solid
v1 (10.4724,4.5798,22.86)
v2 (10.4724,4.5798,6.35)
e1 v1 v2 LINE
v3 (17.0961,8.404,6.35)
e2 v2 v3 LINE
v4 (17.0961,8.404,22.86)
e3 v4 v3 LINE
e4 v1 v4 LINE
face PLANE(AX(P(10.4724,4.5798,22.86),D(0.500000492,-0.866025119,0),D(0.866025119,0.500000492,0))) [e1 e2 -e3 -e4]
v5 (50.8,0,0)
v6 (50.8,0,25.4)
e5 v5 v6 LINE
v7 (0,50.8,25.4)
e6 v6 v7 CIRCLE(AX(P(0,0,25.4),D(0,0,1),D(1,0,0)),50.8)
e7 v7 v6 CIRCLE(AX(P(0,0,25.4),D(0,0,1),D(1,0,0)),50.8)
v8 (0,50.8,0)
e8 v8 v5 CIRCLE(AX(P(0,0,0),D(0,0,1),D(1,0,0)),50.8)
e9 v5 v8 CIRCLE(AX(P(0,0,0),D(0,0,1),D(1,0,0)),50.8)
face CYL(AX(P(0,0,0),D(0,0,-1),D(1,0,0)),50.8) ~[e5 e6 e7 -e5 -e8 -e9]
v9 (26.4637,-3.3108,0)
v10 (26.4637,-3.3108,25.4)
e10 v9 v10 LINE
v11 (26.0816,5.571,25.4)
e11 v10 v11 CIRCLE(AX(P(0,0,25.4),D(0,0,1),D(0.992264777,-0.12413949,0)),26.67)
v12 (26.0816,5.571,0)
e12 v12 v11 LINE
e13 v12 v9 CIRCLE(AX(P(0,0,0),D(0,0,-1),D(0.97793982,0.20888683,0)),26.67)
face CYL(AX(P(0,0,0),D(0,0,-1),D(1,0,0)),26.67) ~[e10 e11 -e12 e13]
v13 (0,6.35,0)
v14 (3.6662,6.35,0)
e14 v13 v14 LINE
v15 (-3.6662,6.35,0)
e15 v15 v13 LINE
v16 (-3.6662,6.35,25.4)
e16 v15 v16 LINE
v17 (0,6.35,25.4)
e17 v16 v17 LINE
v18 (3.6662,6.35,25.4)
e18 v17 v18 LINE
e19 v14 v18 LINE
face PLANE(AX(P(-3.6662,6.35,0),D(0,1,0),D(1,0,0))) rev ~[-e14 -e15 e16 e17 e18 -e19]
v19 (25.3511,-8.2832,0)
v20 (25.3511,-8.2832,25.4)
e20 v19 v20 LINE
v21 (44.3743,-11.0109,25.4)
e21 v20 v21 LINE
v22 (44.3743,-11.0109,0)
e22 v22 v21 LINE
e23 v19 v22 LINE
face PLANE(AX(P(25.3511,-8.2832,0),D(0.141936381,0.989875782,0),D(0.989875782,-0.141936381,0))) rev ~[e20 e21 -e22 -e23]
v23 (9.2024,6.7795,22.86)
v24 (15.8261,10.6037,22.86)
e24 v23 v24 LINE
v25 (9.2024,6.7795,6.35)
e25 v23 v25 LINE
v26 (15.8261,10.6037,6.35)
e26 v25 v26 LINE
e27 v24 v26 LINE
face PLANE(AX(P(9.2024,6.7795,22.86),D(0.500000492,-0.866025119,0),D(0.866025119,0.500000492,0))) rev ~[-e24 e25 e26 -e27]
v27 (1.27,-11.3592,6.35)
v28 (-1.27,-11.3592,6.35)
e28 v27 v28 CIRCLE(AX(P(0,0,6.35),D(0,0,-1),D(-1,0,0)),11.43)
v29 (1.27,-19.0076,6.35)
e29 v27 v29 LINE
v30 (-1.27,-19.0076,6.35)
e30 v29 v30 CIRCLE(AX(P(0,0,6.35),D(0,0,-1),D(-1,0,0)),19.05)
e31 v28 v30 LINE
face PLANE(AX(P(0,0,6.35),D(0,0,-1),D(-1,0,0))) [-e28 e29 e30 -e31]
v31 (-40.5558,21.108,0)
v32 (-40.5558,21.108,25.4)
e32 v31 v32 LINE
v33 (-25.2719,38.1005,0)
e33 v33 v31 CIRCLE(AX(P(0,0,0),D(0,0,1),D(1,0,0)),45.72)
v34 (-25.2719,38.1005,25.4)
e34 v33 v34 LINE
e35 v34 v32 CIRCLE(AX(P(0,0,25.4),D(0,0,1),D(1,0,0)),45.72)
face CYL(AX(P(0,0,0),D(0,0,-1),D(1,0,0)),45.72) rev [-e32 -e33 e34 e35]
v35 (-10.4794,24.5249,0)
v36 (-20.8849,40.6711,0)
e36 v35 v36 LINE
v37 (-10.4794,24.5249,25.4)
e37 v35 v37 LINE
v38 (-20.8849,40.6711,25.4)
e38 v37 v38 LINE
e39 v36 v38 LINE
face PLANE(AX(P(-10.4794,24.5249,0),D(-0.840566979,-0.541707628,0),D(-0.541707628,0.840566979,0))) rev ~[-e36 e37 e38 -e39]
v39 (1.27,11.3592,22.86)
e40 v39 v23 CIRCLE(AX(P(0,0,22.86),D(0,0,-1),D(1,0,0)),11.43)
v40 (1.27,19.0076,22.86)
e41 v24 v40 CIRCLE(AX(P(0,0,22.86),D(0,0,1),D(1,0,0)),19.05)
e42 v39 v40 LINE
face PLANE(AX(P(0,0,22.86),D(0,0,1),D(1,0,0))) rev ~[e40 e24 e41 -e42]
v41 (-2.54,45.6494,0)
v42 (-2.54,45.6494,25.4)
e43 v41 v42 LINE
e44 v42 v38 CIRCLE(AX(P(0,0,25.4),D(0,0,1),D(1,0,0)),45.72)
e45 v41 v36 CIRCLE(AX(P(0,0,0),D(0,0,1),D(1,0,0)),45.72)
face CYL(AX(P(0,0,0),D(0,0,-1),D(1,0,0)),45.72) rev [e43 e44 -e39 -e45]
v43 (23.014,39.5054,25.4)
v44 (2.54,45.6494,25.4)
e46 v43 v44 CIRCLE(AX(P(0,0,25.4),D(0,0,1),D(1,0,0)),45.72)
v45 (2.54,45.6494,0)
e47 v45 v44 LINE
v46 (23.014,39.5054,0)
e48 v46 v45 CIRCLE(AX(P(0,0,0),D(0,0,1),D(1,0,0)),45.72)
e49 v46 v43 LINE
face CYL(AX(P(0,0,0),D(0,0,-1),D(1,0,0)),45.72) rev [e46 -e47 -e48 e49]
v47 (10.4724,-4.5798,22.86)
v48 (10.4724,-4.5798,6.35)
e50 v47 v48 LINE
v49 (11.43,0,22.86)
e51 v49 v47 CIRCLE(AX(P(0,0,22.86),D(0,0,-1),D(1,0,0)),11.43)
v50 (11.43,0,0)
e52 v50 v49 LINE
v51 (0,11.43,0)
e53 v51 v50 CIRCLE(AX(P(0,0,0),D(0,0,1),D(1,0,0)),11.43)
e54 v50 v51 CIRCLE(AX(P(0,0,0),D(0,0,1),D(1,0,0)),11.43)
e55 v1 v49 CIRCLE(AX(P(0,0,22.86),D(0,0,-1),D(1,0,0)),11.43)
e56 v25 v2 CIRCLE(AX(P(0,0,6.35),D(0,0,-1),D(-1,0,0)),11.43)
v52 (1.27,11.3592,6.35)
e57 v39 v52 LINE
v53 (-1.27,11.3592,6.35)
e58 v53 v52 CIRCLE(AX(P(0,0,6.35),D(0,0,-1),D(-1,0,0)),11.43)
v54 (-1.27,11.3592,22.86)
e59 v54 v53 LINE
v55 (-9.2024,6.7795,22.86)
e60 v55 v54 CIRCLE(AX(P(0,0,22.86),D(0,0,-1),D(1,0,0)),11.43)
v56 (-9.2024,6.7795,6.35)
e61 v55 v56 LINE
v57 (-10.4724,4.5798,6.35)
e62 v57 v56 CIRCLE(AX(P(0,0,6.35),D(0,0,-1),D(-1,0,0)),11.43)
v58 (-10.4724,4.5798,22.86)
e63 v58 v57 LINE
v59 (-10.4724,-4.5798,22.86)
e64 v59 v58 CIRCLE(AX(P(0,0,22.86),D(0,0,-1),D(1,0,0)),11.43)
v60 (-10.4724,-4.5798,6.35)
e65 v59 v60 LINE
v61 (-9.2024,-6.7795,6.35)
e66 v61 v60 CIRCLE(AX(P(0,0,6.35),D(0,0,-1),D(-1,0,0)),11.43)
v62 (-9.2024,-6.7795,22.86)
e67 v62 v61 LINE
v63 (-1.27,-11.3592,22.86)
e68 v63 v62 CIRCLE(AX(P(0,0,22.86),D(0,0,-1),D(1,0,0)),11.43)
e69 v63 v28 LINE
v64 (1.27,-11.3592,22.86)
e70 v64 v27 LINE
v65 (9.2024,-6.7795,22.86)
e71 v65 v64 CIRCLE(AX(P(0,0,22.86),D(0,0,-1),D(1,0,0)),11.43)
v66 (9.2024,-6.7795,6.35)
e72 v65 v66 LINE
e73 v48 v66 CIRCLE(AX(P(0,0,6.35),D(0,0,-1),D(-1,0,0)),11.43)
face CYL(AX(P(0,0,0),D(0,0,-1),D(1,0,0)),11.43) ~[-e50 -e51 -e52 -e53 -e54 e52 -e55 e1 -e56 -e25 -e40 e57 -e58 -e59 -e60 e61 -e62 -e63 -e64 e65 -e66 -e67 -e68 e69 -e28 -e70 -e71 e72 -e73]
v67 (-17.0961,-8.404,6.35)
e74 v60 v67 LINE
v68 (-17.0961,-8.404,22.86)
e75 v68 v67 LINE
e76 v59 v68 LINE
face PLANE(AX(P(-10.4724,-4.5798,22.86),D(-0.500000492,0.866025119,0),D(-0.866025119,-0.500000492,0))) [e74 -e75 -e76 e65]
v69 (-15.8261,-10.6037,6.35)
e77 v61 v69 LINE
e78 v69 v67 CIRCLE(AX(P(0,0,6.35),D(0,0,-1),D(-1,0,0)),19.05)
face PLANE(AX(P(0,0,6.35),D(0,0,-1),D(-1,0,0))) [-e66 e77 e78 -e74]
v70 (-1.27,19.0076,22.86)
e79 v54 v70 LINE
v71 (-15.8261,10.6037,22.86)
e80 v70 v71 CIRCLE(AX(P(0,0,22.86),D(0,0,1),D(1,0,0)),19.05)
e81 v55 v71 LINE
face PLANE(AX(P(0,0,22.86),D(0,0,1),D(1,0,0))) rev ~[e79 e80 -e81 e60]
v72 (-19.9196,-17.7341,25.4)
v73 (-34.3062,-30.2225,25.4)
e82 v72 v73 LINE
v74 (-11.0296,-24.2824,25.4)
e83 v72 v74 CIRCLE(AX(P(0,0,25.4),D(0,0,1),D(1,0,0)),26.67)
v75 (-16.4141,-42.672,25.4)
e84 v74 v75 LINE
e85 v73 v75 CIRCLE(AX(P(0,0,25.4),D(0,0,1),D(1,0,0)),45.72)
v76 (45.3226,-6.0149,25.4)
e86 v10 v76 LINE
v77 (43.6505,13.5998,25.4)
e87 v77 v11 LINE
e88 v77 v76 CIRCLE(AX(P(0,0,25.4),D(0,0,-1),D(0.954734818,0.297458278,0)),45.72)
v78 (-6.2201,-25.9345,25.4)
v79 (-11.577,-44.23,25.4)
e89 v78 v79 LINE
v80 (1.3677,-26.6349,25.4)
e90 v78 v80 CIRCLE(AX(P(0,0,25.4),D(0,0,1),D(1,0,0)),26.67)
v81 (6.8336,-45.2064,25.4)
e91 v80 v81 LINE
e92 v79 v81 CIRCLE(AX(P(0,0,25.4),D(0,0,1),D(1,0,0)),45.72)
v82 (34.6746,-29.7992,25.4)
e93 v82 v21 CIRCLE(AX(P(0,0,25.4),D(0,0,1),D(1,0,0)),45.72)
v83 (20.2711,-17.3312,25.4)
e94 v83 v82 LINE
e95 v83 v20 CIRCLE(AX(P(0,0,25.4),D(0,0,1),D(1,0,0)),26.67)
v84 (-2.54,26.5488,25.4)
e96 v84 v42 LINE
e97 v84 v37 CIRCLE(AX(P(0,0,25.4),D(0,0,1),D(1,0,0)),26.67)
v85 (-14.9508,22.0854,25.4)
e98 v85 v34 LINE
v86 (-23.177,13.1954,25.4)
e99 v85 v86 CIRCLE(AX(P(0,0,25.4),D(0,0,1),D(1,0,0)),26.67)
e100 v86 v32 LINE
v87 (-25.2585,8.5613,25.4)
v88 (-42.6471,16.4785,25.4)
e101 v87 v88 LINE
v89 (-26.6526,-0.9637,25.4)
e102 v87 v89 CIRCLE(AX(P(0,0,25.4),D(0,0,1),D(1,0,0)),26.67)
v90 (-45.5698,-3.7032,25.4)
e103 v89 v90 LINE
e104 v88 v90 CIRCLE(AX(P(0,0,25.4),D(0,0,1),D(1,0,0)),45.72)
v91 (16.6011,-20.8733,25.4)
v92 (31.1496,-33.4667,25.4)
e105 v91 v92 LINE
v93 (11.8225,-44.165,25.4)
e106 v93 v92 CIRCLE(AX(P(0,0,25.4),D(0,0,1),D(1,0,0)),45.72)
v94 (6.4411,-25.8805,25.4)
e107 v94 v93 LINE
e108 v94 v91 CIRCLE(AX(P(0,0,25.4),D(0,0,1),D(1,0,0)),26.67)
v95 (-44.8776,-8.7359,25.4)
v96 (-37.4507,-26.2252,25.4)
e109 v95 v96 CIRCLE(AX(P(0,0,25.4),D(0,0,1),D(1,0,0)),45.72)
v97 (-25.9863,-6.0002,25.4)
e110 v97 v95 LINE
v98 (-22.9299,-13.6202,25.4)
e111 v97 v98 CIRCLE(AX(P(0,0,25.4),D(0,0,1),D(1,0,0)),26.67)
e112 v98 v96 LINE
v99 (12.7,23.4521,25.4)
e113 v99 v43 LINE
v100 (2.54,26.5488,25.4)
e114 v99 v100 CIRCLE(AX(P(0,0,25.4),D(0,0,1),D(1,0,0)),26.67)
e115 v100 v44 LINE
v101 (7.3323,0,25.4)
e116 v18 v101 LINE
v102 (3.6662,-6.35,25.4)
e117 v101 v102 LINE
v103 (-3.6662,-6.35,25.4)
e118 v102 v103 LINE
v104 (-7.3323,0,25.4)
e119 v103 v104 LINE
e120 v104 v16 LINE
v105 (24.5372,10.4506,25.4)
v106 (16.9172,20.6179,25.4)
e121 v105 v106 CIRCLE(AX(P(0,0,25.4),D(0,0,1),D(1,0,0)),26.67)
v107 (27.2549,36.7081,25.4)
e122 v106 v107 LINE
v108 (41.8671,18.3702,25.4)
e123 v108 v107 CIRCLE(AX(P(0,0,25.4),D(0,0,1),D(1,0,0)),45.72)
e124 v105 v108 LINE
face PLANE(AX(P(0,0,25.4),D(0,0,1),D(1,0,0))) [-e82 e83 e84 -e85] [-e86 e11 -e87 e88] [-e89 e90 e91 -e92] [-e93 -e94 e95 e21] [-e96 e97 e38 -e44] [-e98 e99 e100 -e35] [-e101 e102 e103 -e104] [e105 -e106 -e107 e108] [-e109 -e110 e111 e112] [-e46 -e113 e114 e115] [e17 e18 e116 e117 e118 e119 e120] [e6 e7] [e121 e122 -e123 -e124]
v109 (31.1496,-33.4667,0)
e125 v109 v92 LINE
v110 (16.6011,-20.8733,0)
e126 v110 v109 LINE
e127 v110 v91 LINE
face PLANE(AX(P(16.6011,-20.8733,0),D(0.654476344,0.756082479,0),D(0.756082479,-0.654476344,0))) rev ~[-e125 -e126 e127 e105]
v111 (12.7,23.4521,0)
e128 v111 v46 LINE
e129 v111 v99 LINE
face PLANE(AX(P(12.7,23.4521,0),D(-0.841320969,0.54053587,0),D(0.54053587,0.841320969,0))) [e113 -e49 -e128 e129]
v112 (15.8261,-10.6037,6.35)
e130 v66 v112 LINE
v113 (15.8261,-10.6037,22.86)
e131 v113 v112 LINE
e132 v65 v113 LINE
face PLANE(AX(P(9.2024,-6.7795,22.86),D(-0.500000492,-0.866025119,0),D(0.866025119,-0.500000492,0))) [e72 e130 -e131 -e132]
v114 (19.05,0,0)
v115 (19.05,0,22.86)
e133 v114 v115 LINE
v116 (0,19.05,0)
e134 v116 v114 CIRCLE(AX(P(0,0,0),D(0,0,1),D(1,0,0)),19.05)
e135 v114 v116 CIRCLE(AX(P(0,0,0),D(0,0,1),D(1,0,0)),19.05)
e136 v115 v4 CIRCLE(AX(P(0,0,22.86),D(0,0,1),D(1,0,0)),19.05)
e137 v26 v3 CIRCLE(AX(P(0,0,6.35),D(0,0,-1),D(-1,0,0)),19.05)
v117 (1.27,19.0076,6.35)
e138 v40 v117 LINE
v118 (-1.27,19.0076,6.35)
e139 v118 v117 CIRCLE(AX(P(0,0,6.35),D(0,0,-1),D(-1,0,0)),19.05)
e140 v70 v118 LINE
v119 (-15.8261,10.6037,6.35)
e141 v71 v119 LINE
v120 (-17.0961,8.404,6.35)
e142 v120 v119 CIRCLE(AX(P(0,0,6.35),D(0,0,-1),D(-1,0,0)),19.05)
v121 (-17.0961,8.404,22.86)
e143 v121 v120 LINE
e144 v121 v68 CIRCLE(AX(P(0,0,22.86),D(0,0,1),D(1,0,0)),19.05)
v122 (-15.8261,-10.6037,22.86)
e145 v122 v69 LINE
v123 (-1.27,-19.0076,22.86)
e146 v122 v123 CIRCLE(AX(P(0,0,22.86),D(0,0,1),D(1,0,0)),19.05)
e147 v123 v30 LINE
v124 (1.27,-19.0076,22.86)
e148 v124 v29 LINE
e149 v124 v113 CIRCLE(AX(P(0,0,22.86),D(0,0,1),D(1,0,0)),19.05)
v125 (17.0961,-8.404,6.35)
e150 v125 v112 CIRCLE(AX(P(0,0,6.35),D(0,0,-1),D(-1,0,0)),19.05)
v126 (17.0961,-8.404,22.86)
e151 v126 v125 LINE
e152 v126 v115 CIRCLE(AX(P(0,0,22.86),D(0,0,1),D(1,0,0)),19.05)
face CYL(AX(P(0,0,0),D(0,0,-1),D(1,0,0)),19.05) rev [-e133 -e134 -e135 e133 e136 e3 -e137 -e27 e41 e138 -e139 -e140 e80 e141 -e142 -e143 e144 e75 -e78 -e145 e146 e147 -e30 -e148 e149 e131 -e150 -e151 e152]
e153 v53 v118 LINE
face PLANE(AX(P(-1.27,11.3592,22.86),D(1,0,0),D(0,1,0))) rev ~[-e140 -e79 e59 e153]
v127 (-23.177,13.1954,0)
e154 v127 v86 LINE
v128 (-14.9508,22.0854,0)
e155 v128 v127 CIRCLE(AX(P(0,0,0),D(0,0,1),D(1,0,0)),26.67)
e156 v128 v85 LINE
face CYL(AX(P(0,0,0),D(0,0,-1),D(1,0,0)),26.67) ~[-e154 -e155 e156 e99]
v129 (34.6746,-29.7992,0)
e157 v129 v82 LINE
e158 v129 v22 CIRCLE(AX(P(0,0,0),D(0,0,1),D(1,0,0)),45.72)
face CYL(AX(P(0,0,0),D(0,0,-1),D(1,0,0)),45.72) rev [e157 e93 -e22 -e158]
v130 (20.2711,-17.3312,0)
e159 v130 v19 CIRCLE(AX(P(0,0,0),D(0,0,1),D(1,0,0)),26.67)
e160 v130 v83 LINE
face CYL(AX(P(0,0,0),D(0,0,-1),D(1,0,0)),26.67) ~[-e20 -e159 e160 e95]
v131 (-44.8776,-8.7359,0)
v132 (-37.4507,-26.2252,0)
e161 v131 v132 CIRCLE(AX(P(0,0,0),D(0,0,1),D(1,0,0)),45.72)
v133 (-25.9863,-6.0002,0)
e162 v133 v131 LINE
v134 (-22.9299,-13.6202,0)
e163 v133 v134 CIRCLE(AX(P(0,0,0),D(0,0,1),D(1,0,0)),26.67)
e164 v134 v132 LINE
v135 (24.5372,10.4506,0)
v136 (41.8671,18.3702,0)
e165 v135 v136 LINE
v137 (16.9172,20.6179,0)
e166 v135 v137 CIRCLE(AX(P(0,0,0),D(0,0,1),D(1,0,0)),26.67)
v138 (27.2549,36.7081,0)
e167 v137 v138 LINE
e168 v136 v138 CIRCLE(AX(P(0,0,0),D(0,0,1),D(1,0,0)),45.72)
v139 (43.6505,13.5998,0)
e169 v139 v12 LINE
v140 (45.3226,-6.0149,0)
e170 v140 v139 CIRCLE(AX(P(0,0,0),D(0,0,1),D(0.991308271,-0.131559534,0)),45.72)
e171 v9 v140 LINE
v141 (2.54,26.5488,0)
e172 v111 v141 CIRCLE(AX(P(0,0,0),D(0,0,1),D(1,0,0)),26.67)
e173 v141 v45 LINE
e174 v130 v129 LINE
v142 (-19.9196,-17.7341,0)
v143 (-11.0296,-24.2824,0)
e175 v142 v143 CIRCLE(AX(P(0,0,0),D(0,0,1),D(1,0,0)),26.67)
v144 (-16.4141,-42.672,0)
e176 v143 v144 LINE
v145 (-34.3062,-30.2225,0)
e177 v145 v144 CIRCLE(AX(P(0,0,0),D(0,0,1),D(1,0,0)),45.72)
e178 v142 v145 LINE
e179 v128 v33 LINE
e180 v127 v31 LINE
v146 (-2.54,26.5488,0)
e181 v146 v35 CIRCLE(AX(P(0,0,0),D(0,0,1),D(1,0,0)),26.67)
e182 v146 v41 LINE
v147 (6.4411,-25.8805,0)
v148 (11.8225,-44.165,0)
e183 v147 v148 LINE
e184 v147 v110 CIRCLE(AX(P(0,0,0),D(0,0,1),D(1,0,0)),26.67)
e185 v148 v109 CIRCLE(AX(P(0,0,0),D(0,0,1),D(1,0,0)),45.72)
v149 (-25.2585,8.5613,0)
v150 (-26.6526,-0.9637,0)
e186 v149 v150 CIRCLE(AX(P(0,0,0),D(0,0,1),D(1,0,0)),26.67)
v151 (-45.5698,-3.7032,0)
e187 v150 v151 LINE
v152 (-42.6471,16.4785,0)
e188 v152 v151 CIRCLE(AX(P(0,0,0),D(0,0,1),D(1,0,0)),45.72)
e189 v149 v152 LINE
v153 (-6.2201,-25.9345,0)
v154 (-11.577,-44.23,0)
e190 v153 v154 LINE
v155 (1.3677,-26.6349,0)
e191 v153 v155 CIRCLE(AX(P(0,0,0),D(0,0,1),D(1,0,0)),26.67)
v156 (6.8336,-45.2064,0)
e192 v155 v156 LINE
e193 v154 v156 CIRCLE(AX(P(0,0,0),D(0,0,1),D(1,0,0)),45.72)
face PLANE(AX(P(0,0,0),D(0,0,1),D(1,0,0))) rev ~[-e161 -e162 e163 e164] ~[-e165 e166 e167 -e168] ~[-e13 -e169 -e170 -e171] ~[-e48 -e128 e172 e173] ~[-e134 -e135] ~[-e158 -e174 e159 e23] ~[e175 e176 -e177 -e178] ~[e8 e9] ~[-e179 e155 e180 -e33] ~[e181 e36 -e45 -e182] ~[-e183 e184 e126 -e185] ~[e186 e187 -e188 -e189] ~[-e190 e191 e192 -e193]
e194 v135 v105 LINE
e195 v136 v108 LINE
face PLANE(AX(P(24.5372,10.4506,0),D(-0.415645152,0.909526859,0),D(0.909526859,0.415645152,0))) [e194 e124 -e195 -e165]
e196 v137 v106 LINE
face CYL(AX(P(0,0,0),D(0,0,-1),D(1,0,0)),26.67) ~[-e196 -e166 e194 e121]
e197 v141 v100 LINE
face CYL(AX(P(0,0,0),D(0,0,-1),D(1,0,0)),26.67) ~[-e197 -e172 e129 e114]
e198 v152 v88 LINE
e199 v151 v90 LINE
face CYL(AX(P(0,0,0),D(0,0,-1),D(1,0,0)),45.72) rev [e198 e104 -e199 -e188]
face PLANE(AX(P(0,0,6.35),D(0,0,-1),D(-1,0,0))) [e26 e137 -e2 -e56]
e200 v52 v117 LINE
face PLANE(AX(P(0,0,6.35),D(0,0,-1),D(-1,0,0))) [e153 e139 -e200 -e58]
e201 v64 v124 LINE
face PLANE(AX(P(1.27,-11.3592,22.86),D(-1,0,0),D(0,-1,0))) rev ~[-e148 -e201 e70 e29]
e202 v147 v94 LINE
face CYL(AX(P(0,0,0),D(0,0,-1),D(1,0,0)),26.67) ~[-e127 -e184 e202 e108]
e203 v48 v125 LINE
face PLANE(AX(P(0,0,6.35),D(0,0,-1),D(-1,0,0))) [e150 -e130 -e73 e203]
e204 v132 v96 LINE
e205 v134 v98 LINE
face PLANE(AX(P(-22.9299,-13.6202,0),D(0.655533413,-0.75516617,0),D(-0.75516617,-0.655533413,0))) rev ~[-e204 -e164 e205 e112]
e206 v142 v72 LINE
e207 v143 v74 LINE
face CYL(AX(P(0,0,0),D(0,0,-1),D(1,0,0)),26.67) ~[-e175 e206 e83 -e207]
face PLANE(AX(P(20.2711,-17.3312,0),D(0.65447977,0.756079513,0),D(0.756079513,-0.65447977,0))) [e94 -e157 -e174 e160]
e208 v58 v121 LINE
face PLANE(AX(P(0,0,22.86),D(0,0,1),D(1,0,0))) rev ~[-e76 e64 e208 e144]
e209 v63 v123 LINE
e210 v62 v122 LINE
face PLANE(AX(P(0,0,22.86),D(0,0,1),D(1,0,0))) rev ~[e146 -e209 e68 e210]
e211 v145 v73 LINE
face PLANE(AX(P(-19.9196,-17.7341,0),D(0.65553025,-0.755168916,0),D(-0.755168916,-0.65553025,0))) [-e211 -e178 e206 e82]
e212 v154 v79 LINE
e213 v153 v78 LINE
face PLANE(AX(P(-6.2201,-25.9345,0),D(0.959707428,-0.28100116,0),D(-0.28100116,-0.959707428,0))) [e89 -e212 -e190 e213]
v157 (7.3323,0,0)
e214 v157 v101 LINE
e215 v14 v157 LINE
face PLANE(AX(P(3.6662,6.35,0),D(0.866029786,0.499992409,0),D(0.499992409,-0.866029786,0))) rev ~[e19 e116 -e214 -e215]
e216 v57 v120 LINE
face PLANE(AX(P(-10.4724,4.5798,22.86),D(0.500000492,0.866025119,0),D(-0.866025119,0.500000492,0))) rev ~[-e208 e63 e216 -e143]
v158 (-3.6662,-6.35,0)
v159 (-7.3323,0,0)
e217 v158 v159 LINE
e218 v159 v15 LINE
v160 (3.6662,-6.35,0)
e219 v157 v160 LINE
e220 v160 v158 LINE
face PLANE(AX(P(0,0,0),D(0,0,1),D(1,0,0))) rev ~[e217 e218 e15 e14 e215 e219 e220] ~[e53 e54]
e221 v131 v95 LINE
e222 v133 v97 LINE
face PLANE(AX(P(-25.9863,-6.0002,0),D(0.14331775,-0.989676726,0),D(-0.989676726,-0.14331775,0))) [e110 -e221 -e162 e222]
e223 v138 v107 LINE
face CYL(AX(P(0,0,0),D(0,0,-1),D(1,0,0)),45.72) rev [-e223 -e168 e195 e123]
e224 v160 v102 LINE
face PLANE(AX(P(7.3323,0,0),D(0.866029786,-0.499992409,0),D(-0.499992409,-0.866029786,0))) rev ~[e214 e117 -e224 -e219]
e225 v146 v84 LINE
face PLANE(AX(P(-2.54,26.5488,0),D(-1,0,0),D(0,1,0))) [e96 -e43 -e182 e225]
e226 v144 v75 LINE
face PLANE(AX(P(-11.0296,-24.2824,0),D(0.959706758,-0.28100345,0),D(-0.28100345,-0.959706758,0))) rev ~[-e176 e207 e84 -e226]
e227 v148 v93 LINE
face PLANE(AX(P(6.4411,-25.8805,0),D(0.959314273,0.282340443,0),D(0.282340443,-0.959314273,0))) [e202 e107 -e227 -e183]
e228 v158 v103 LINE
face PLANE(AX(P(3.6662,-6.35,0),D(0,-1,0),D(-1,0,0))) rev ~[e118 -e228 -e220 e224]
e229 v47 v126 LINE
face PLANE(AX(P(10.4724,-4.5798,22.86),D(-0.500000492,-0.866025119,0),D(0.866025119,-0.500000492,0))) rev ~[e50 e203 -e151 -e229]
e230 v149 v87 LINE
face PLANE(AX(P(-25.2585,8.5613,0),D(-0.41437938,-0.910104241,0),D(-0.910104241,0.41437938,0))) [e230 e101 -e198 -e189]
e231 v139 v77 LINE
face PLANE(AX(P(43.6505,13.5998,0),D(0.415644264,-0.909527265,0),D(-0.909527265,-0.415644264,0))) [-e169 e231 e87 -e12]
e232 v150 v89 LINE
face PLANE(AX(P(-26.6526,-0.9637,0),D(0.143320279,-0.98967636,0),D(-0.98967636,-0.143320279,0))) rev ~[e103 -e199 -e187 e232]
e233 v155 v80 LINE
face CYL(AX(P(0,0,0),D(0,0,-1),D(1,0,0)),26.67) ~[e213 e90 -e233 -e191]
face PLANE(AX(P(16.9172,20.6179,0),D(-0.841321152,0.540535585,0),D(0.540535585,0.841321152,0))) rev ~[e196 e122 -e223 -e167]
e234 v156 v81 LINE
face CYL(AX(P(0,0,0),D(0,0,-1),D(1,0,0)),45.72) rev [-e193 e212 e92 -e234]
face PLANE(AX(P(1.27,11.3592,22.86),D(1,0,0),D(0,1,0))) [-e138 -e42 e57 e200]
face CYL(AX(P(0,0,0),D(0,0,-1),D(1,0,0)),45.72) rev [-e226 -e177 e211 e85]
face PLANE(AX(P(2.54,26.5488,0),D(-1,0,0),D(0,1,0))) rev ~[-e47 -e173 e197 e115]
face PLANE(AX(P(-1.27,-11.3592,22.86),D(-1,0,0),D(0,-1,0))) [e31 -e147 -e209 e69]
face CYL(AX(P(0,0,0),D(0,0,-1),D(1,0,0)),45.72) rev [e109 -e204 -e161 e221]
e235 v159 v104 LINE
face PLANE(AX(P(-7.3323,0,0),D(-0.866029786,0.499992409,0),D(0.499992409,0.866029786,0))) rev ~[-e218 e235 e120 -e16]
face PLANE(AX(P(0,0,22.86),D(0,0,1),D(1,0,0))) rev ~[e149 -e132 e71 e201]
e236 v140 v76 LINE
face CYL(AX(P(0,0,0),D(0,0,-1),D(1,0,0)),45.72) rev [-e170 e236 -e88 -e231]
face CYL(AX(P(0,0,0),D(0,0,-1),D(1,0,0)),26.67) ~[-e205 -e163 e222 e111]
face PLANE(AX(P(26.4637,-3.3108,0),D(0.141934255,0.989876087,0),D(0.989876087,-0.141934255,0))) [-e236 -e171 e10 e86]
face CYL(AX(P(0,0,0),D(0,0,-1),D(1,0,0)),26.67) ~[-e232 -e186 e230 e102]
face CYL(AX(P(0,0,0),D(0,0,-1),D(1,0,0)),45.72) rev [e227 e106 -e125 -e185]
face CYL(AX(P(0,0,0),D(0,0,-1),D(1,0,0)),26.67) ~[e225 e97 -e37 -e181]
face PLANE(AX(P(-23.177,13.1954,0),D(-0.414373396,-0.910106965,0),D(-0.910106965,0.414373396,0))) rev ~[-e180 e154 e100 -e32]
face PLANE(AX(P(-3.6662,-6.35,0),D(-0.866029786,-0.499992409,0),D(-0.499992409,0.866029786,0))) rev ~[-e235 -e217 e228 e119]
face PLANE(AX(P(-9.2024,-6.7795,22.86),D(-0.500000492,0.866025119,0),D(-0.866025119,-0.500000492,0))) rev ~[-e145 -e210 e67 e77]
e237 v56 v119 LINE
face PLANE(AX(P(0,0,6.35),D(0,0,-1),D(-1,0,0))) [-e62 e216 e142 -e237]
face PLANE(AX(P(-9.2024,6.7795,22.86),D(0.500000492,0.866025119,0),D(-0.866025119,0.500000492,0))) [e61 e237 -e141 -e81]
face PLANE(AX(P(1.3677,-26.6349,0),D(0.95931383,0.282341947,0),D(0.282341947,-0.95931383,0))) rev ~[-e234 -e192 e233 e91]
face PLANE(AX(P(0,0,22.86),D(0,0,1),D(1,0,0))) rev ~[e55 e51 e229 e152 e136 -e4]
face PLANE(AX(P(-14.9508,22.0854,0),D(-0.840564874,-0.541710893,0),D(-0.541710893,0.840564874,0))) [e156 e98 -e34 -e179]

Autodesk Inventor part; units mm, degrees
ref_plane "YZ Plane" through (0, 0, 0) normal (1, 0, 0) x (0, 1, 0)
ref_plane "XZ Plane" through (0, 0, 0) normal (0, 1, 0) x (-1, 0, 0)
ref_plane "XY Plane" through (0, 0, 0) normal (0, 0, 1) x (1, 0, 0)
sketch "Sketch1" plane through (0, 0, 0) normal (0, 0, 1) x (1, 0, 0)
  circle A0 centre (0, 0) radius 50.8
  circle A1 centre (0, 0) radius 45.72
  circle A2 centre (0, 0) radius 26.67
  circle A3 centre (0, 0) radius 19.05
  circle A4 centre (0, 0) radius 11.43
  line L0 (3.6662, 6.35) -> (7.3323, 0)
  line L1 (7.3323, 0) -> (3.6662, -6.35)
  line L2 (3.6662, -6.35) -> (-3.6662, -6.35)
  line L3 (-3.6662, -6.35) -> (-7.3323, 0)
  line L4 (-7.3323, 0) -> (-3.6662, 6.35)
  line L5 (-3.6662, 6.35) -> (3.6662, 6.35)
  line L6 (0, 0) -> (0, 58.0354)
  line L7 (-2.54, 26.5488) -> (-2.54, 45.6494)
  line L8 (2.54, 26.5488) -> (2.54, 45.6494)
  line L9 (12.7, 23.4521) -> (23.014, 39.5054)
  line L10 (16.9172, 20.6179) -> (27.2549, 36.7081)
  line L11 (24.5372, 10.4506) -> (41.8671, 18.3702)
  line L12 (43.6505, 13.5998) -> (26.0816, 5.571)
  line L13 (26.4637, -3.3108) -> (45.3226, -6.0149)
  line L14 (25.3511, -8.2832) -> (44.3743, -11.0109)
  line L15 (20.2711, -17.3312) -> (34.6746, -29.7992)
  line L16 (16.6011, -20.8733) -> (31.1496, -33.4667)
  line L17 (6.4411, -25.8805) -> (11.8225, -44.165)
  line L18 (1.3677, -26.6349) -> (6.8336, -45.2064)
  line L19 (-6.2201, -25.9345) -> (-11.577, -44.23)
  line L20 (-11.0296, -24.2824) -> (-16.4141, -42.672)
  line L21 (-19.9196, -17.7341) -> (-34.3062, -30.2225)
  line L22 (-22.9299, -13.6202) -> (-37.4507, -26.2252)
  line L23 (-25.9863, -6.0002) -> (-44.8776, -8.7359)
  line L24 (-26.6526, -0.9637) -> (-45.5698, -3.7032)
  line L25 (-25.2585, 8.5613) -> (-42.6471, 16.4785)
  line L26 (-23.177, 13.1954) -> (-40.5558, 21.108)
  line L27 (-14.9508, 22.0854) -> (-25.2719, 38.1005)
  line L28 (-10.4794, 24.5249) -> (-20.8849, 40.6711)
  dimension "d2" = 19.05
  dimension "d0" = 101.6
  dimension "d1" = 5.08
  dimension "d3" = 7.62
  dimension "d4" = 22.86
  dimension "d5" = 12.7
  dimension "d6" = 5.08
  dimension "d7" = 2.54
  dimension "d8" = 5.08
  dimension "d9" = 32.72
  dimension "d10" = 10.16
  dimension "d11" = 32.72
  dimension "d12" = 5.08
  dimension "d13" = 7.62
  dimension "d14" = 5.08
  dimension "d15" = 32.72
  dimension "d16" = 8.89
  dimension "d17" = 32.72
  dimension "d18" = 5.08
  dimension "d19" = 5.08
  dimension "d20" = 32.72
  dimension "d21" = 10.16
  dimension "d22" = 5.08
  dimension "d23" = 5.08
  dimension "d24" = 32.72
  dimension "d25" = 7.62
  dimension "d26" = 5.08
  dimension "d27" = 32.72
  dimension "d28" = 8.89
  dimension "d29" = 5.08
  dimension "d30" = 32.72
  dimension "d31" = 7.62
  dimension "d32" = 5.08
  dimension "d33" = 32.72
  dimension "d34" = 9.525
  dimension "d35" = 5.08
  dimension "d36" = 32.72
  dimension "d37" = 8.89
extrude "Extrusion3" add sketch "Sketch1" along normal blind 25.4 contours A1 L8 A2 L6 | L6 A2 L7 A1 | A0 | A2 | A4 | A1 L10 A2 L9 | L28 A2 L27 A1 | A1 L12 A2 L11 | L26 A2 L25 A1 | L24 A2 L23 A1 | A1 L14 A2 L13 | L22 A2 L21 A1 | A1 L16 A2 L15 | L20 A2 L19 A1 | A1 L18 A2 L17
sketch "Sketch3" plane through (0, 0, 25.4) normal (0, 0, 1) x (1, 0, 0)
  circle A0 centre (0, 0) radius 11.43 projected
  circle A1 centre (0, 0) radius 19.05 projected
extrude "Extrusion4" add sketch "Sketch3" against normal blind 2.54
sketch "Sketch4" plane through (0, 0, 22.86) normal (0, 0, -1) x (-1, 0, 0)
  circle A0 centre (0, 0) radius 11.43 projected
  line L0 (-10.4724, 4.5798) -> (-17.0961, 8.404)
  circle A1 centre (0, 0) radius 19.05 projected
  line L1 (-9.2024, 6.7795) -> (-15.8261, 10.6037)
  line L2 (-7.3323, 0) -> (-3.6662, 6.35) projected
  line L3 (-3.6662, 6.35) -> (-7.3323, 0) projected
  line L4 (-3.6662, 6.35) -> (-14.3563, 12.5219)
  line L5 (3.6662, 6.35) -> (-3.6662, 6.35) projected
  line L6 (-3.6662, 6.35) -> (3.6662, 6.35) projected
  line L7 (-1.27, -11.3592) -> (-1.27, -19.0076)
  line L8 (1.27, -11.3592) -> (1.27, -19.0076)
  line L9 (-3.6662, -6.35) -> (3.6662, -6.35) projected
  line L10 (-3.6662, -6.35) -> (-14.3563, -12.5219)
  line L11 (3.6662, -6.35) -> (14.3563, -12.5219)
  line L12 (3.6662, 6.35) -> (14.3563, 12.5219)
  line L13 (-3.6662, -6.35) -> (-7.3323, 0) projected
  line L14 (3.6662, 6.35) -> (7.3323, 0) projected
  line L15 (7.3323, 0) -> (3.6662, -6.35) projected
  line L16 (10.4724, -4.5798) -> (17.0961, -8.404)
  line L17 (9.2024, -6.7795) -> (15.8261, -10.6037)
  line L18 (-10.4724, -4.5798) -> (-17.0961, -8.404)
  line L19 (-9.2024, -6.7795) -> (-15.8261, -10.6037)
  line L20 (9.2024, 6.7795) -> (15.8261, 10.6037)
  line L21 (10.4724, 4.5798) -> (17.0961, 8.404)
  line L22 (-3.6662, 6.35) -> (-3.6662, 18.6939)
  line L23 (3.6662, -6.35) -> (3.6662, -18.6939)
  line L24 (3.6662, -6.35) -> (-3.6662, -6.35) projected
  line L25 (-1.27, 11.3592) -> (-1.27, 19.0076)
  line L26 (1.27, 11.3592) -> (1.27, 19.0076)
  dimension "d57" = 2.54
  dimension "d62" = 2.54
  dimension "d64" = 2.54
  dimension "d66" = 2.54
  dimension "d68" = 2.54
  dimension "d72" = 2.3962
  dimension "d73" = 2.3962
  dimension "d74" = 2.3962
  dimension "d75" = 2.3962
  dimension "d76" = 2.3962
  dimension "d77" = 2.3962
  dimension "d78" = 2.54
extrude "Extrusion5" add sketch "Sketch4" along normal blind 16.51 contours A0 L20 A1 L21 | L16 A1 L17 A0 | A0 L25 A1 L26 | L8 A1 L7 A0 | A0 L0 A1 L1 | L19 A1 L18 A0
equation "\"d11\" = d9"
equation "\"d15\" = d11"
equation "\"d17\" = d9"
equation "\"d20\" = d9"
equation "\"d24\" = d9"
equation "\"d27\" = d9"
equation "\"d30\" = d9"
equation "\"d33\" = d9"
equation "\"d36\" = d9"
properties part number "RobotArm Wheel"
